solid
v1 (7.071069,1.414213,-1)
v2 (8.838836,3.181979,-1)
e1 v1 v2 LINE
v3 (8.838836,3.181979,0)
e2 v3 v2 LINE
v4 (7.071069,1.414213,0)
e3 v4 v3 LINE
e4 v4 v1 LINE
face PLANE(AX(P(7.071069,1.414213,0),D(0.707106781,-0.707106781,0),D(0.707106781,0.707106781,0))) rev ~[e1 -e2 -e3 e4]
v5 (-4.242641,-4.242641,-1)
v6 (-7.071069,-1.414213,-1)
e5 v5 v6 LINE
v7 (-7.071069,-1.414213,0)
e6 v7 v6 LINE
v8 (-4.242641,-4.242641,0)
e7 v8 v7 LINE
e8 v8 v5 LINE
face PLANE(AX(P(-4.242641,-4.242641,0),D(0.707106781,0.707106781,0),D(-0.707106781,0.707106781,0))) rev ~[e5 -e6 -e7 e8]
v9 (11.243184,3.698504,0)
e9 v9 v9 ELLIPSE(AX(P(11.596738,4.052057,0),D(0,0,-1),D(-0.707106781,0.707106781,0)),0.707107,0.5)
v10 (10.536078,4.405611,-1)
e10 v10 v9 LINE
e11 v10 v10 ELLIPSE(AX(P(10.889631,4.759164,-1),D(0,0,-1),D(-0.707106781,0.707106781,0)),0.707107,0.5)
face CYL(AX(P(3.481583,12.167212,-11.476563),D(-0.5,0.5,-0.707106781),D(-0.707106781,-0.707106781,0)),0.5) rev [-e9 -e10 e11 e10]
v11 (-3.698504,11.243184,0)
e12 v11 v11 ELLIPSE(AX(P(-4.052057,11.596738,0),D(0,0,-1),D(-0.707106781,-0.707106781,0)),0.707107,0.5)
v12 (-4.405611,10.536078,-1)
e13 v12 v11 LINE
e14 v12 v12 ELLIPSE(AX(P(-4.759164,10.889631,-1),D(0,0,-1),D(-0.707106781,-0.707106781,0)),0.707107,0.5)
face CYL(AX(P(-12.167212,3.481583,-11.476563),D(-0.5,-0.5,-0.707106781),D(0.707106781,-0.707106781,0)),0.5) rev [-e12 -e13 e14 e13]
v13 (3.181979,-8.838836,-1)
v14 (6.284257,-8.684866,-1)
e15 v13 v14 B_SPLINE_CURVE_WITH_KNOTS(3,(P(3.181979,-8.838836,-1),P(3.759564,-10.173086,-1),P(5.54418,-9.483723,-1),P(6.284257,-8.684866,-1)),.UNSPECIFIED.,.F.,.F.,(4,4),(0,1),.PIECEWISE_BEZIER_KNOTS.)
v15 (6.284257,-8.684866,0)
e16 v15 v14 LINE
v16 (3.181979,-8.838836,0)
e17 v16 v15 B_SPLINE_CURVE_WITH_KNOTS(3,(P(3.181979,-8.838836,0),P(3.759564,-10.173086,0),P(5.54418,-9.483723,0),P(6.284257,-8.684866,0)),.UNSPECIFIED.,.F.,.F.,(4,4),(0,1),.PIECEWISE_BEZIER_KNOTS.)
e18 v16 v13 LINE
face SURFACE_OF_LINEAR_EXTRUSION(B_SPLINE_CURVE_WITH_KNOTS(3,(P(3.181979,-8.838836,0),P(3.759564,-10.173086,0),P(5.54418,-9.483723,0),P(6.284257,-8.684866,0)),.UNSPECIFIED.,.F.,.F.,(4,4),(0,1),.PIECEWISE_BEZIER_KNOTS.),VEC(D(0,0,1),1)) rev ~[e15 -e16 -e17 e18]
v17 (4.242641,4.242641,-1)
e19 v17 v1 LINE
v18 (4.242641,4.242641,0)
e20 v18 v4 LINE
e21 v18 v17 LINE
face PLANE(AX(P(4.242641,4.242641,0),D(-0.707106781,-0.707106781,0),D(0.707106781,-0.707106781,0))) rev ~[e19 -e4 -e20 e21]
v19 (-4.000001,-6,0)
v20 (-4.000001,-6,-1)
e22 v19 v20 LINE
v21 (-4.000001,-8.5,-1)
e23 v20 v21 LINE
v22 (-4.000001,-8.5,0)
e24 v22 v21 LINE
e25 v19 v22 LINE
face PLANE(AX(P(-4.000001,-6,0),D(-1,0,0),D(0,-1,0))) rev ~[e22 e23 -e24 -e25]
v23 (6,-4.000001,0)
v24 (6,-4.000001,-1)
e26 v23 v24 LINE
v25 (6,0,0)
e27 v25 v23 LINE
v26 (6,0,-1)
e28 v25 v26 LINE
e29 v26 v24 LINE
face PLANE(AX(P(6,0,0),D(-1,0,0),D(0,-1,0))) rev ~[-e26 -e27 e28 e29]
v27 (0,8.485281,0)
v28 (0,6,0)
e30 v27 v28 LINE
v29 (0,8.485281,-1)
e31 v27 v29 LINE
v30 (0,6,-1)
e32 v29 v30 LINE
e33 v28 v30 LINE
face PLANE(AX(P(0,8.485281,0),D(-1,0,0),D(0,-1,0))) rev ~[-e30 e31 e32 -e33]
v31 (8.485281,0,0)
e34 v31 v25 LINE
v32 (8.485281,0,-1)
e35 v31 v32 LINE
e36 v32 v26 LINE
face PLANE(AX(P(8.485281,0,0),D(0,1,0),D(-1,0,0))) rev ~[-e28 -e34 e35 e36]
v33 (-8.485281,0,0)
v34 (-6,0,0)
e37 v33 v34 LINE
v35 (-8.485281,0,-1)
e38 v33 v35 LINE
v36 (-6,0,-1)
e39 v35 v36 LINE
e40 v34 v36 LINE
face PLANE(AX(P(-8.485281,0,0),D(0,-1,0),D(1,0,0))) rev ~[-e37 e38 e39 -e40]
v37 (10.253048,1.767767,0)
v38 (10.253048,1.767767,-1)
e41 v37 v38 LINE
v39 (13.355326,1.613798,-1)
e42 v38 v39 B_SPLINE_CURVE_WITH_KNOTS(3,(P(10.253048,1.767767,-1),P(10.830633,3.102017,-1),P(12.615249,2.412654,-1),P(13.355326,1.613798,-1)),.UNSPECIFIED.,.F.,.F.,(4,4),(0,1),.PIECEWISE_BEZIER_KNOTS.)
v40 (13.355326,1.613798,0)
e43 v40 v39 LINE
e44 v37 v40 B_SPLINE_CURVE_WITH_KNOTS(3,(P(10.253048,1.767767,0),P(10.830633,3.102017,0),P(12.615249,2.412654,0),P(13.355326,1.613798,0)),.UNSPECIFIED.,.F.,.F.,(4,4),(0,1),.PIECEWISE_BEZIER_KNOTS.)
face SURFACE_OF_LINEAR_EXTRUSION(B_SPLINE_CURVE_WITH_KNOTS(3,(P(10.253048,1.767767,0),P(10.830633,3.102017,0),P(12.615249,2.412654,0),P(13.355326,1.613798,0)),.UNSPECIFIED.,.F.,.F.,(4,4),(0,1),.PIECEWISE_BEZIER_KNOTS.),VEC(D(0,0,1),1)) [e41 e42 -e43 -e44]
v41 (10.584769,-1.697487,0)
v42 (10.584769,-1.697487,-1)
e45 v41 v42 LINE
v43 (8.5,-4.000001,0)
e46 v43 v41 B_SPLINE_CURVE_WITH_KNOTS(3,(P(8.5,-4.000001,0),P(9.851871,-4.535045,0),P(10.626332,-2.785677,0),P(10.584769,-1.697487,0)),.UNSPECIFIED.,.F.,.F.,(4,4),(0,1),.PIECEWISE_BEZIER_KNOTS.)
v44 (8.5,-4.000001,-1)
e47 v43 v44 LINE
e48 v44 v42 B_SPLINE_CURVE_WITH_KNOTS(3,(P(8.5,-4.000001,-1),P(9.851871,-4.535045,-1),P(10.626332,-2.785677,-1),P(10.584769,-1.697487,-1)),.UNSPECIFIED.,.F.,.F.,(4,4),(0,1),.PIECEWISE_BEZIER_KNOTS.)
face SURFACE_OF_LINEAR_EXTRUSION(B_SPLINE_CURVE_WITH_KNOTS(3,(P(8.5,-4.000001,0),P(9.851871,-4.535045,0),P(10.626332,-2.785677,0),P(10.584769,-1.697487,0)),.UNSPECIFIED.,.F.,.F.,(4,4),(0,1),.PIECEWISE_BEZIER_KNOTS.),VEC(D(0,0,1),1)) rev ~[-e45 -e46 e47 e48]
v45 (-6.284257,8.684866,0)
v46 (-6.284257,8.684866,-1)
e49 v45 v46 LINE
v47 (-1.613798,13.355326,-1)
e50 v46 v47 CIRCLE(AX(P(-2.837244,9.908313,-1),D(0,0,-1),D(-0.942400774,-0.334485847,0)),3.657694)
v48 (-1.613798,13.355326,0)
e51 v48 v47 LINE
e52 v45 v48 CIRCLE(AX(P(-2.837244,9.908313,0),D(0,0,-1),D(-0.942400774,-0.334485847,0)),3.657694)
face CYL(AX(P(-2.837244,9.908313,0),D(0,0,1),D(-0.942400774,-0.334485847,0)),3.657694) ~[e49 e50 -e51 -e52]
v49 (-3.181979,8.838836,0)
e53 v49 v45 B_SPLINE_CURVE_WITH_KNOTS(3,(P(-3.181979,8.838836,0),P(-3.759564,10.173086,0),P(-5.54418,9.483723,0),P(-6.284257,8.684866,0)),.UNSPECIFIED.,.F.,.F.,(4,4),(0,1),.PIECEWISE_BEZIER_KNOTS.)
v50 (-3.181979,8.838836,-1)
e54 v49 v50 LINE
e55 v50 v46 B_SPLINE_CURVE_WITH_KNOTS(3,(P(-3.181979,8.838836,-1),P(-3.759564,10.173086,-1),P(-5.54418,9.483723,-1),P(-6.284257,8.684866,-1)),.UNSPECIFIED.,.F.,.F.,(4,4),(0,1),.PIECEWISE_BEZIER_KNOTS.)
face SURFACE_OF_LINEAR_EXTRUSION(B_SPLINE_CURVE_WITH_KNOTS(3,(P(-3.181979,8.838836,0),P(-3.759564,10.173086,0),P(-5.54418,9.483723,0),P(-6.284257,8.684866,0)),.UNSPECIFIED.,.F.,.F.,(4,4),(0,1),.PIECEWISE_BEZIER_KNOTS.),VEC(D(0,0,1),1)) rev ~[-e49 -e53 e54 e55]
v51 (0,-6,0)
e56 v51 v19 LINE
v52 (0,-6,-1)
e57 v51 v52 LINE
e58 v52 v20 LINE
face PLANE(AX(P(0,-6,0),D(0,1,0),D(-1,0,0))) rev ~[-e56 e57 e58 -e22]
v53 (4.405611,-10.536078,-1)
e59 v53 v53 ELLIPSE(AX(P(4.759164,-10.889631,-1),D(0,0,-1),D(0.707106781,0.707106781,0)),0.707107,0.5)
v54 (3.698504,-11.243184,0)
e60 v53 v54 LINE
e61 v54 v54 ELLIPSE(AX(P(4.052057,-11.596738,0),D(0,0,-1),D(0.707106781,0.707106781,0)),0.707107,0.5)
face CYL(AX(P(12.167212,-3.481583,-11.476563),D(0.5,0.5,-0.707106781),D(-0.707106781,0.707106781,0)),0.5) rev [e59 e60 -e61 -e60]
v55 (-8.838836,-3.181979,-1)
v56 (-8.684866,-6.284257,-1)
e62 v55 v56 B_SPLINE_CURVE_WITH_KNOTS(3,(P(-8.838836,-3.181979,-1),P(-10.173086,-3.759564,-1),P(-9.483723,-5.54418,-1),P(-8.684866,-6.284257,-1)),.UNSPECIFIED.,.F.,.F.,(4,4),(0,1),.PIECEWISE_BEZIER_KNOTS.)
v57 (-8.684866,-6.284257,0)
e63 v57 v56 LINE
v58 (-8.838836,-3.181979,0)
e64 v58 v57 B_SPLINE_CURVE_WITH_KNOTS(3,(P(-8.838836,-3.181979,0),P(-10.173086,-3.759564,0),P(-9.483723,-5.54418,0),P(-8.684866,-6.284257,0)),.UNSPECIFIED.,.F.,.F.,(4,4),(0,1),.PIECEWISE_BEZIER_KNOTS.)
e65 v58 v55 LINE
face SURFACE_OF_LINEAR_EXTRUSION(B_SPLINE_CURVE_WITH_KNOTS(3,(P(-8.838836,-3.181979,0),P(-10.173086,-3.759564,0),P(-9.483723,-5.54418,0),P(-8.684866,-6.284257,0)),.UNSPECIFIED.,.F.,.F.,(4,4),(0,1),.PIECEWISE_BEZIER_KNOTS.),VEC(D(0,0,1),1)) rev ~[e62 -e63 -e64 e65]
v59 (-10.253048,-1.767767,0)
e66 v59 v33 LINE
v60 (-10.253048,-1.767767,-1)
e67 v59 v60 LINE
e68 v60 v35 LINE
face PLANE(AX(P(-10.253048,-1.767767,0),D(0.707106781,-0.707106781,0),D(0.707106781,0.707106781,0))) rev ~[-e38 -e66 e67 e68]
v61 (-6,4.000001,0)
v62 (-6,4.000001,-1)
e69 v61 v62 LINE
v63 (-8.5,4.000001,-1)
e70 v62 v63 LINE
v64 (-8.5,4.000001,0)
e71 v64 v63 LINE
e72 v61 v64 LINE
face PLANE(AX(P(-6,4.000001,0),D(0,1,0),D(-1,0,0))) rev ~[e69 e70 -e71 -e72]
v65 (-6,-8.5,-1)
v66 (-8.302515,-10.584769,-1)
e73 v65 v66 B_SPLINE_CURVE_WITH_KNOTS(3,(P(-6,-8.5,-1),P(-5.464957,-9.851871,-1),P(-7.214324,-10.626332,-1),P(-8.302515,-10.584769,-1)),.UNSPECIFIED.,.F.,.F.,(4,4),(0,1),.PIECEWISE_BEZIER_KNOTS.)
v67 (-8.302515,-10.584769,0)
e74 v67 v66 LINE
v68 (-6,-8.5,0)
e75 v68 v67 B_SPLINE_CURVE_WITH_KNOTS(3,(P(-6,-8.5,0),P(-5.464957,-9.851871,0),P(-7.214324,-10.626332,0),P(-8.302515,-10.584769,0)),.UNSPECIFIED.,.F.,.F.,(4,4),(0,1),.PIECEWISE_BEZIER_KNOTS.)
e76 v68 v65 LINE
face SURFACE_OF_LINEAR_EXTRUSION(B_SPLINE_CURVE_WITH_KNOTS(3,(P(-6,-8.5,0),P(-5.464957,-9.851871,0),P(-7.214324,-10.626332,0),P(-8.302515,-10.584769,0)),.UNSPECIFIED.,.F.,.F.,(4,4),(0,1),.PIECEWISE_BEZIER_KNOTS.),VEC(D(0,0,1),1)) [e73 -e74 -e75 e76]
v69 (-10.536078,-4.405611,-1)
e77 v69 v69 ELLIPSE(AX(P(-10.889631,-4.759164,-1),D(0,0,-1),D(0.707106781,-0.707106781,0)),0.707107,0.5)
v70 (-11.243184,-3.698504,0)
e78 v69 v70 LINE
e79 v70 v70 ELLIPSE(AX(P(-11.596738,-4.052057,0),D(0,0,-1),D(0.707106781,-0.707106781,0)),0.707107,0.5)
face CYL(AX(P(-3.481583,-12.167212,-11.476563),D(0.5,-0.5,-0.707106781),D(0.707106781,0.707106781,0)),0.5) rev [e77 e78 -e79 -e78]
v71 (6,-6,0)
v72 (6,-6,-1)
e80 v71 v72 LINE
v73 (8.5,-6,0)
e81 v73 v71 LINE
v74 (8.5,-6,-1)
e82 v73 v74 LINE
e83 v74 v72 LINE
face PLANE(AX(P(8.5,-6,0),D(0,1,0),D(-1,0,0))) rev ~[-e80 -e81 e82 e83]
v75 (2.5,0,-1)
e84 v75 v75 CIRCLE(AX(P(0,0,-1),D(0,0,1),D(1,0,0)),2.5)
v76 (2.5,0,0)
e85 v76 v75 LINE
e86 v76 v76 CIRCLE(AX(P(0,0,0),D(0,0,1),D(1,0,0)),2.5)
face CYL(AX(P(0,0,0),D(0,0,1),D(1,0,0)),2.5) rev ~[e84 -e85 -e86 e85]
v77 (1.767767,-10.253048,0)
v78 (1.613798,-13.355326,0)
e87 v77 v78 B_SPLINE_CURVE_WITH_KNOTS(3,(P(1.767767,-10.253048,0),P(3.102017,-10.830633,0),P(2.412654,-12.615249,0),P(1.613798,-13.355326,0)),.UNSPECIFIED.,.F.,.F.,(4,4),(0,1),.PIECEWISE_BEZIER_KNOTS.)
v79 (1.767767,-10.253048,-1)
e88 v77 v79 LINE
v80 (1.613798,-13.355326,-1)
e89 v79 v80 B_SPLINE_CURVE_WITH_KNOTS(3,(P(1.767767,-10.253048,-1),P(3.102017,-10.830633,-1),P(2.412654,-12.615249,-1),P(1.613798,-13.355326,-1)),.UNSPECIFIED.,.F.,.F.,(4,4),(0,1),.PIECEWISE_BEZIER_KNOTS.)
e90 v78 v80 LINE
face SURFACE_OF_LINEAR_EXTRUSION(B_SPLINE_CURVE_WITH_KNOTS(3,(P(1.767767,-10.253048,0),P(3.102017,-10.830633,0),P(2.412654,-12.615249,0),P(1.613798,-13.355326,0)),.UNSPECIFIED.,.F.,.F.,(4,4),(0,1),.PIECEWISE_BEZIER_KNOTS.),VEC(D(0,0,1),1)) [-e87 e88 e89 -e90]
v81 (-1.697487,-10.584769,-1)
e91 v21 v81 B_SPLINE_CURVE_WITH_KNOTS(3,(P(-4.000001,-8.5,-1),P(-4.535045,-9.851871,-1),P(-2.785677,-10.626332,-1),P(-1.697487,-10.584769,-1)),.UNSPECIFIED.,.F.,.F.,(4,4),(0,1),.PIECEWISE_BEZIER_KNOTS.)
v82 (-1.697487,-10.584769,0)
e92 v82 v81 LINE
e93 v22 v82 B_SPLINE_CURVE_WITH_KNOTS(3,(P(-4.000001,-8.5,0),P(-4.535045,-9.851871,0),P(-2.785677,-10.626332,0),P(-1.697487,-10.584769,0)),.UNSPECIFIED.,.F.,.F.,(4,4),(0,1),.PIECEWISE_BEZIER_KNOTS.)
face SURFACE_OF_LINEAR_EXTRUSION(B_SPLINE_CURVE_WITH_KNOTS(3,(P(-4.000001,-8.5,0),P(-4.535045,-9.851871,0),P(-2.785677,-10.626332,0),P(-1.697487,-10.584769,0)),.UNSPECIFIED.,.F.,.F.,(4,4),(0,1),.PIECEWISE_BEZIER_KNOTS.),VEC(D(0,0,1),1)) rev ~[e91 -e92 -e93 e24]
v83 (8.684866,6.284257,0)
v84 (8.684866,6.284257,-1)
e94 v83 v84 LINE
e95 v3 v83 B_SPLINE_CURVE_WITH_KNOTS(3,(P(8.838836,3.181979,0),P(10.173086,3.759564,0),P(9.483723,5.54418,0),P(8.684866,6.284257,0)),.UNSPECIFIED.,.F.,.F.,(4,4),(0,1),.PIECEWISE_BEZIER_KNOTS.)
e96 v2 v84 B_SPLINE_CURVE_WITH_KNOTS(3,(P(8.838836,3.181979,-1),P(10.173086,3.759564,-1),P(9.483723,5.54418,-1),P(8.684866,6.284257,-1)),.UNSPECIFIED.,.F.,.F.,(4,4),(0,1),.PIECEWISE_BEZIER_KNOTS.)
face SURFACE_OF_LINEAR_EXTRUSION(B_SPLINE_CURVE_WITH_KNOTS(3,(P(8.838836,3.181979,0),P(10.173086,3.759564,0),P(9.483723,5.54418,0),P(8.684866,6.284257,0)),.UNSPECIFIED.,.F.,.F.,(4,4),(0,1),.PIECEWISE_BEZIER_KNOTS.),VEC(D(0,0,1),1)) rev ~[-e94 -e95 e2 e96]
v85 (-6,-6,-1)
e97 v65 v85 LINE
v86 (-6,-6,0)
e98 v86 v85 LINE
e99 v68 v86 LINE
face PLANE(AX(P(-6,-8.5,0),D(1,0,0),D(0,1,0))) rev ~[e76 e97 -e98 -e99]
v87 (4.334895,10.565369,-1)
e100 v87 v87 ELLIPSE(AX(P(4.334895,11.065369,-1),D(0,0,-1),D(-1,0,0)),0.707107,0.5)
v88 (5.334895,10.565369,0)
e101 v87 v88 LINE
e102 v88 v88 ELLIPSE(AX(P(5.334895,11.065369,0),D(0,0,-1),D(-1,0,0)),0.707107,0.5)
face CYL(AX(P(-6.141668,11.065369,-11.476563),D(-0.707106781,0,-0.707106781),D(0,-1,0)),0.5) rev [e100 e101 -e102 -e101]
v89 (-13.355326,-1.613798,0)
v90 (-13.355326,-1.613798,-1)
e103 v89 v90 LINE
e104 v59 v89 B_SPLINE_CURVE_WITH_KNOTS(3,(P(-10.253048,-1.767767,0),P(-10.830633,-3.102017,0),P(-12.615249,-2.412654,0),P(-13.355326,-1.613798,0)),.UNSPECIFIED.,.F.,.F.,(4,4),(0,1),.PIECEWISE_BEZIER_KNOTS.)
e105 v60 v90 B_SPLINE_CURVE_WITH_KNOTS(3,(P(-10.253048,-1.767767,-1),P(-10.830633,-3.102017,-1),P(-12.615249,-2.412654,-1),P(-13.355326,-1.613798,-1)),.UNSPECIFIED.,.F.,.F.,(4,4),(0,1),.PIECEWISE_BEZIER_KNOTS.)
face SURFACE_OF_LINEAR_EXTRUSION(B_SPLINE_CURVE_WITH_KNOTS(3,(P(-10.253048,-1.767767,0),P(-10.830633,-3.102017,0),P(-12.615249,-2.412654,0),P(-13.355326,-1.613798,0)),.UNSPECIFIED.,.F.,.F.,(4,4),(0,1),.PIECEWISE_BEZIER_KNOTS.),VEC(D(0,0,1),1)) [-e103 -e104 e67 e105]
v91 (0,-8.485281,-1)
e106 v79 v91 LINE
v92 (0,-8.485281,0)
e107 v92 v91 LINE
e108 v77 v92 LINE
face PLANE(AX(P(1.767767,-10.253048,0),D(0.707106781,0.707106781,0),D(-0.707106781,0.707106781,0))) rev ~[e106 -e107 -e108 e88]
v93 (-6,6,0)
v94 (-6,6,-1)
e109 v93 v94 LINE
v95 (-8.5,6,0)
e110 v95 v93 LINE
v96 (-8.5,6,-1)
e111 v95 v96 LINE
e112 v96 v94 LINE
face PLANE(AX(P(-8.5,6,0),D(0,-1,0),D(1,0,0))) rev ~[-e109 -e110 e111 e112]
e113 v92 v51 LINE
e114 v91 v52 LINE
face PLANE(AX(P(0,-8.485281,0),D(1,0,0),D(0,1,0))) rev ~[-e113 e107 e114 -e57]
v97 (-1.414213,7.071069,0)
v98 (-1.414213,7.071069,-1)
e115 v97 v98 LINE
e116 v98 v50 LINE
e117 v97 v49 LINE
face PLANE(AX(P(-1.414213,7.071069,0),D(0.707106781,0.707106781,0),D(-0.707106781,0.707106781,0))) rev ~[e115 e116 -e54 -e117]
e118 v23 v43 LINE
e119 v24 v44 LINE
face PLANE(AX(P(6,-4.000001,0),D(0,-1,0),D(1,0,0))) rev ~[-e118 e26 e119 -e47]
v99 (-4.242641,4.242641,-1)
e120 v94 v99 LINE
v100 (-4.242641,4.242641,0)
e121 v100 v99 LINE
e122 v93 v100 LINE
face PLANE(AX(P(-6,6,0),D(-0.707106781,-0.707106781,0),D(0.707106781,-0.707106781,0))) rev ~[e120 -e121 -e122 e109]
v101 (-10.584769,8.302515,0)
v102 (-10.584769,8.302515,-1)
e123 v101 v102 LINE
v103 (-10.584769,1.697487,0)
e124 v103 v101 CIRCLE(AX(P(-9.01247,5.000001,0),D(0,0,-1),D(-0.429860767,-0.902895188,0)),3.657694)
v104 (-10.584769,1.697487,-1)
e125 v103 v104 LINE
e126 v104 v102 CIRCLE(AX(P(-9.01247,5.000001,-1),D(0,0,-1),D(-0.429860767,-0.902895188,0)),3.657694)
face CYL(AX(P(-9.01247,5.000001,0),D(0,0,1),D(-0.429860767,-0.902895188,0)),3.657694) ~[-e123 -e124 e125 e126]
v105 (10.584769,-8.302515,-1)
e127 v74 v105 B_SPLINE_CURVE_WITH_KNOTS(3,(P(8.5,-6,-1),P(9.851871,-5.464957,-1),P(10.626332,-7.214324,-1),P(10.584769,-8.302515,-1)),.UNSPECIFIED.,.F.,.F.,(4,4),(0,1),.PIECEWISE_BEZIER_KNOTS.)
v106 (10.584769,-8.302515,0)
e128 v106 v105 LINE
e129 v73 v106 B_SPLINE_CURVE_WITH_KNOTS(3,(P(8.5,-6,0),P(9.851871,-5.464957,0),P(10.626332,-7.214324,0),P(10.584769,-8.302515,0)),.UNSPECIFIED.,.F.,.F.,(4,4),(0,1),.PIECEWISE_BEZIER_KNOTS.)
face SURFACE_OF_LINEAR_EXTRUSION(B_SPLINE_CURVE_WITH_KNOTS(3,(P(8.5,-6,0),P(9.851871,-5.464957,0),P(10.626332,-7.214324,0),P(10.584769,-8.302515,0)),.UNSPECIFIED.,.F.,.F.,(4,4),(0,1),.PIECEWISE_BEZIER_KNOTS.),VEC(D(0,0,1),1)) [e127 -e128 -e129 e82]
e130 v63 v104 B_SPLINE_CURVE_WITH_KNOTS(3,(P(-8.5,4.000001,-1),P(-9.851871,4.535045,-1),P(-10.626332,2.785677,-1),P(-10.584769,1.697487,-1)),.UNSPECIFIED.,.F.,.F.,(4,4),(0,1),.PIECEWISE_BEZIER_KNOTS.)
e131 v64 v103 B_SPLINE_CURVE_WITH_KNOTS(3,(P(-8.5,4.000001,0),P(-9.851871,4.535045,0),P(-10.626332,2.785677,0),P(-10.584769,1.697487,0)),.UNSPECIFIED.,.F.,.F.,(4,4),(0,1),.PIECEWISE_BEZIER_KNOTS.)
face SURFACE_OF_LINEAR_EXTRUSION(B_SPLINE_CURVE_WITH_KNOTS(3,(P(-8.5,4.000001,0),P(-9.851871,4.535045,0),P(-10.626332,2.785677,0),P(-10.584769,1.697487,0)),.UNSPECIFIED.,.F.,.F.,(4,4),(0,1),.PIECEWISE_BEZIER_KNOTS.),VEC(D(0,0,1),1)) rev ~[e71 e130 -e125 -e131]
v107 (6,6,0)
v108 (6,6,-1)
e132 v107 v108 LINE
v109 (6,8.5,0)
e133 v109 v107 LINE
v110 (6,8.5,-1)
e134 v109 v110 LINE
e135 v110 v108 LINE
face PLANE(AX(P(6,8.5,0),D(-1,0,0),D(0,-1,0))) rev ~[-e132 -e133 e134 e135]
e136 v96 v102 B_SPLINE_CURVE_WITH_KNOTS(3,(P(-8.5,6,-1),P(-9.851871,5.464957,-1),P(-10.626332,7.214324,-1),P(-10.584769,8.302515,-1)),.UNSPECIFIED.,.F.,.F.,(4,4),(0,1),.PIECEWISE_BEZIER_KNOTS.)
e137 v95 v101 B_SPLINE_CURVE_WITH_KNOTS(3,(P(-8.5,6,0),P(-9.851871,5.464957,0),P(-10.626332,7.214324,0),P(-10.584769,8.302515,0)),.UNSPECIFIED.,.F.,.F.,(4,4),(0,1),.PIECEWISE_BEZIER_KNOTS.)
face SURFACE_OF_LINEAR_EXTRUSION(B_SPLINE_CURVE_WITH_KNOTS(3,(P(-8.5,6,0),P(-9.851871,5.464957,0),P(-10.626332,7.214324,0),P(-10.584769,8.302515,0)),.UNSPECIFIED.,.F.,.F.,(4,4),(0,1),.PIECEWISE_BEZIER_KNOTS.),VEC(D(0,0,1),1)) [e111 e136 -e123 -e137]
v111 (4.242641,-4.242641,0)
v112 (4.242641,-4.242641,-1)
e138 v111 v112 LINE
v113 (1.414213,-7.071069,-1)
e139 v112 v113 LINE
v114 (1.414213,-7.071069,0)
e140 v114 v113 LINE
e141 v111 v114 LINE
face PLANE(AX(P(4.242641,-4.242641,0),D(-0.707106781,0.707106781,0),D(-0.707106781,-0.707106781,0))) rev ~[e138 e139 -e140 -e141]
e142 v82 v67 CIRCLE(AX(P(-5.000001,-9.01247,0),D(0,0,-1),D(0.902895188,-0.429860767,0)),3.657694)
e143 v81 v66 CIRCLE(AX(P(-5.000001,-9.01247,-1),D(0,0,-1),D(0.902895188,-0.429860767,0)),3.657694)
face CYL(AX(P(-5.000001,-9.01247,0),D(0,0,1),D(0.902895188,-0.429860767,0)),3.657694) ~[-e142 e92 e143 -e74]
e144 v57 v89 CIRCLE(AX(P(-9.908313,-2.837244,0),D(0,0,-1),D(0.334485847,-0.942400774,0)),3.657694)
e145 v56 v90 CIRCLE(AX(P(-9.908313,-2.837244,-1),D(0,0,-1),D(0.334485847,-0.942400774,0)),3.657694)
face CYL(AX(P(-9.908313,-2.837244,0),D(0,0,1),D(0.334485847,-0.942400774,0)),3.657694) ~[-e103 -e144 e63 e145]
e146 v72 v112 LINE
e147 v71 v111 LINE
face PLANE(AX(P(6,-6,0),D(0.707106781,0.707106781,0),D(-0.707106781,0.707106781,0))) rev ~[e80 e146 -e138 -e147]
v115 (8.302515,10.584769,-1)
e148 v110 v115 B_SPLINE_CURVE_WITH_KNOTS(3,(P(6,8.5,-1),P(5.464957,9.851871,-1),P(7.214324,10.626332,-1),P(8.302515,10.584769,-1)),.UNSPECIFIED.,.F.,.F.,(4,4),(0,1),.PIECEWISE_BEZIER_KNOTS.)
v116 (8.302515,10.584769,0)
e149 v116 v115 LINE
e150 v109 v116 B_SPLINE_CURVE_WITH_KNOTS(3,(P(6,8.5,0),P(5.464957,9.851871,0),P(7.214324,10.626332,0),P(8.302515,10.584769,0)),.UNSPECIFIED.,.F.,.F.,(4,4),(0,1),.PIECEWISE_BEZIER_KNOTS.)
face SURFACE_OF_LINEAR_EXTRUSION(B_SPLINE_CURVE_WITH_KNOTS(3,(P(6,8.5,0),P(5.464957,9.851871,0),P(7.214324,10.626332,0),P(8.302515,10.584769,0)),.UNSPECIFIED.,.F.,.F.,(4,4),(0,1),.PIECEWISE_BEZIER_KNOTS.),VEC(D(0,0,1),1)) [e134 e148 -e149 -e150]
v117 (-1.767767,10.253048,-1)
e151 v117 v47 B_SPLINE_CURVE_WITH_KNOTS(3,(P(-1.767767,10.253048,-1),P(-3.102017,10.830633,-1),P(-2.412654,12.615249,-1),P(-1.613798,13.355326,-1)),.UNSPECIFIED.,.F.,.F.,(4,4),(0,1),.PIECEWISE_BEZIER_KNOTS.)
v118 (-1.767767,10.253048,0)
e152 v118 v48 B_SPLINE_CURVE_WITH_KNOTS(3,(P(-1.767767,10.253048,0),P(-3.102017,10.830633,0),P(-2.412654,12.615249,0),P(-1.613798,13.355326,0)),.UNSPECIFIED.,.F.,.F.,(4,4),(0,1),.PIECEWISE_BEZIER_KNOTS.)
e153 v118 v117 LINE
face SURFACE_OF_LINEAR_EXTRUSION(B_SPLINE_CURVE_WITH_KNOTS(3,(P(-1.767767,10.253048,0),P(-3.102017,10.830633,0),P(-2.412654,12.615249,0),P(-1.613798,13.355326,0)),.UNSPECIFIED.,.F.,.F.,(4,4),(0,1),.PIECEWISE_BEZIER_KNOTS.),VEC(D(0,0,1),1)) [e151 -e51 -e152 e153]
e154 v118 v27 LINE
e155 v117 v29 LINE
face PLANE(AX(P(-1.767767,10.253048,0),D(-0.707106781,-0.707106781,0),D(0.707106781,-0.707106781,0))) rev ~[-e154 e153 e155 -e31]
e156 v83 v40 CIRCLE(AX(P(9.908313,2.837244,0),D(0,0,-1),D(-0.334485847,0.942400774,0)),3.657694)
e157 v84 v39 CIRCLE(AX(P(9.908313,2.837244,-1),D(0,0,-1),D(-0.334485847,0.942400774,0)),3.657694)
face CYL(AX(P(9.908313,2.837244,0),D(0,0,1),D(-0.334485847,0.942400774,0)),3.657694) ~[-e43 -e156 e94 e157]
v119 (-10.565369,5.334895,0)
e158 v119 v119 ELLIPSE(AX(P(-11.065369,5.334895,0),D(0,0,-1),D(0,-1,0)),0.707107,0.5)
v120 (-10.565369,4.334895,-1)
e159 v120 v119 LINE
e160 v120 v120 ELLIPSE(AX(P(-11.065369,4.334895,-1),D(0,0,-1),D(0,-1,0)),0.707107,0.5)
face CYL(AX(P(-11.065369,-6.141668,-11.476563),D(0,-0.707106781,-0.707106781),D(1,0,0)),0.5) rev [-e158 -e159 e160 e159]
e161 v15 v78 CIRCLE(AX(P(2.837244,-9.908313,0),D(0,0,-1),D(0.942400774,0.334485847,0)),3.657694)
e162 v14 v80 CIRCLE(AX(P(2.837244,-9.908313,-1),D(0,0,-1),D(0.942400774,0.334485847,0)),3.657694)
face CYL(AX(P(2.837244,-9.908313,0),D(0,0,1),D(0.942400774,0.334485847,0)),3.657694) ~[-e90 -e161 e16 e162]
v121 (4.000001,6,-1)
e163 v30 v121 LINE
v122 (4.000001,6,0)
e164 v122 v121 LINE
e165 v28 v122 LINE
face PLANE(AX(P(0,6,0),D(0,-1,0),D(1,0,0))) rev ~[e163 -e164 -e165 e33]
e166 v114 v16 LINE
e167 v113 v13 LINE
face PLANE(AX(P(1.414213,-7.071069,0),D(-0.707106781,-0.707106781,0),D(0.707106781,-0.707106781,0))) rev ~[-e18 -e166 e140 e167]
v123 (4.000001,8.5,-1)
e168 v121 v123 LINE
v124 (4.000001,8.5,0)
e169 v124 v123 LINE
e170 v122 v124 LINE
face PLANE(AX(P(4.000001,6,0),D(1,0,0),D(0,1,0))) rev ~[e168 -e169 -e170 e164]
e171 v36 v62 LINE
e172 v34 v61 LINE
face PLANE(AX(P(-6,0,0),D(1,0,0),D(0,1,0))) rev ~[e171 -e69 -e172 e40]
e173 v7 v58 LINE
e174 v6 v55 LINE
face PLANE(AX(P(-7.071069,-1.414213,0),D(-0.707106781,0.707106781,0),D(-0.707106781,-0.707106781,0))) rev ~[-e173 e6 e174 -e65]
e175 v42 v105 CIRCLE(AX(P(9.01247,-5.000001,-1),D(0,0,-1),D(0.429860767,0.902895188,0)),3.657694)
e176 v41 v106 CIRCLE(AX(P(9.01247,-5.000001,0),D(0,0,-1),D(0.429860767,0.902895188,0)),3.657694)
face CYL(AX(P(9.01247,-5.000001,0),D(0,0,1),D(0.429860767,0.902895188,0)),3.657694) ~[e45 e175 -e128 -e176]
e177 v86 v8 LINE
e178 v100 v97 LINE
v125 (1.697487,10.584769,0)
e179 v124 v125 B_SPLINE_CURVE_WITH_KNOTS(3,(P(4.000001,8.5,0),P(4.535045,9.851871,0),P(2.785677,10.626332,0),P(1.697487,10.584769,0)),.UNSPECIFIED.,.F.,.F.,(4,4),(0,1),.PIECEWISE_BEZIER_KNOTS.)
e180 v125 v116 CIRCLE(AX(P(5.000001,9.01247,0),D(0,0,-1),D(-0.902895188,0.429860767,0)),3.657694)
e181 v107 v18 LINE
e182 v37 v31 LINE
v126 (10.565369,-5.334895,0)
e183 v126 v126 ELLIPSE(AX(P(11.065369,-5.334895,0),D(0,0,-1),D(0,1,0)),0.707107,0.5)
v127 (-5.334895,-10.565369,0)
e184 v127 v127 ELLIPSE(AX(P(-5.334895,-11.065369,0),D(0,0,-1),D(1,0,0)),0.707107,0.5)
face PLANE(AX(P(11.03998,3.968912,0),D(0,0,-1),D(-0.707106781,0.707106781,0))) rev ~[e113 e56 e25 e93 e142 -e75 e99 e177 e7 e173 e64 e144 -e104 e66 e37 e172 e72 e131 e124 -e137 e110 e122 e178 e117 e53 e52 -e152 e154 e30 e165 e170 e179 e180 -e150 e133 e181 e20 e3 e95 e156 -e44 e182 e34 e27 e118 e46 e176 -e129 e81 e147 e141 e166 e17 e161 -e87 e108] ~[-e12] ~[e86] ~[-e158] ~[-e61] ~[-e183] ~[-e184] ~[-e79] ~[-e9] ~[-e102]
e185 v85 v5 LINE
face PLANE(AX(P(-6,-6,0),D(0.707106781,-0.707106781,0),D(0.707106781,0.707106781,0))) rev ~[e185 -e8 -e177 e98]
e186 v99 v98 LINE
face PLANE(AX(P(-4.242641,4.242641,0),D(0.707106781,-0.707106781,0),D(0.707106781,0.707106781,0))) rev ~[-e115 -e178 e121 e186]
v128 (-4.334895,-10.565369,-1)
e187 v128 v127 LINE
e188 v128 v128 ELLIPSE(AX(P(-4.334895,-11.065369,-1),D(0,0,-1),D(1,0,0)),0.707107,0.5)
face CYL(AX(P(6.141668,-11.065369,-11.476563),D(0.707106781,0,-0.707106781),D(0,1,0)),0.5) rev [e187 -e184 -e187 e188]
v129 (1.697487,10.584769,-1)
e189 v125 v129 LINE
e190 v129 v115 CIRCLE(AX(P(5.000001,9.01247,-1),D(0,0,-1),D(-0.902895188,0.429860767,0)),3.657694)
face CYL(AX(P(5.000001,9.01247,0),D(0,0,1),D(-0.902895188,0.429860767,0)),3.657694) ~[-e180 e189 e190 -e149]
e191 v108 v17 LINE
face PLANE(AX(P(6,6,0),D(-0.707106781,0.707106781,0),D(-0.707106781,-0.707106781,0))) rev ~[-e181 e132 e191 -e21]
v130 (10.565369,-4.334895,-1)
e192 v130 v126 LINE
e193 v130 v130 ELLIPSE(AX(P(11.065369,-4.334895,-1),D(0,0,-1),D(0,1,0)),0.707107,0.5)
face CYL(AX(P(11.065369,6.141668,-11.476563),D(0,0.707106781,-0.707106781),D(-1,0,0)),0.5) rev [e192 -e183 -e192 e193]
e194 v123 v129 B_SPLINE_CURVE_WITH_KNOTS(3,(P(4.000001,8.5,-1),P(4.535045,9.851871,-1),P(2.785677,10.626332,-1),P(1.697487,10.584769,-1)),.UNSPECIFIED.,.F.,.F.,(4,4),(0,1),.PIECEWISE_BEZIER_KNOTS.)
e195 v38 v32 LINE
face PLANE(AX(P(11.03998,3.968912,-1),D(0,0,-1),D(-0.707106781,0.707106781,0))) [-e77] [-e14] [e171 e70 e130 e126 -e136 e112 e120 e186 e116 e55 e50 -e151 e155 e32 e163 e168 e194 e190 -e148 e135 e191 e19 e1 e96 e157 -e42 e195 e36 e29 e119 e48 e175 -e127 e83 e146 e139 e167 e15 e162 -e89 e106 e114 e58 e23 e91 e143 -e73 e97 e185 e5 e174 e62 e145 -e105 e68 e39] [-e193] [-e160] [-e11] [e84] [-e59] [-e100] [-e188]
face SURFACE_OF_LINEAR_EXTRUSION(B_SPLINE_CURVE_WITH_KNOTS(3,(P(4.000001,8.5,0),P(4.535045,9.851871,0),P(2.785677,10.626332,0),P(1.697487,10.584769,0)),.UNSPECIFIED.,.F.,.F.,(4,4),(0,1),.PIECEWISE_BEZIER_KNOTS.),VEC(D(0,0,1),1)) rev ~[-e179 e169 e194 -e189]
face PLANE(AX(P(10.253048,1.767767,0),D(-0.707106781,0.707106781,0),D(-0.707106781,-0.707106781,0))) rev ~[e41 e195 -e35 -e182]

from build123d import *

# Parameters (mm, degrees)
SKETCH1_R           = 2.5
BOSS_EXTRUDE1_DEPTH = 1
BOSS_EXTRUDE2_DEPTH = 1
CUT_EXTRUDE1_START  = -1
SKETCH5_R           = 0.5
CUT_EXTRUDE1_DEPTH  = 20.707970143
CIRPATTERN4_COUNT   = 8


with BuildPart() as part:
    # Sketch1 → Boss-Extrude1 (new body)
    with BuildSketch(Plane.XY):
        Polygon((-6, 0), (-6, 4.000001453), (-8.5, 4.000001453), (-8.5, 6), (-6, 6), (-4.242640687, 4.242640687), (-1.414212535, 7.071068839), (-3.181979488, 8.838835792), (-1.767766953, 10.253048327), (0, 8.485281374), (0, 6), (4.000001453, 6), (4.000001453, 8.5), (6, 8.5), (6, 6), (4.242640687, 4.242640687), (7.071068839, 1.414212535), (8.838835792, 3.181979488), (10.253048327, 1.767766953), (8.485281374, 0), (6, 0), (6, -4.000001453), (8.5, -4.000001453), (8.5, -6), (6, -6), (4.242640687, -4.242640687), (1.414212535, -7.071068839), (3.181979488, -8.838835792), (1.767766953, -10.253048327), (0, -8.485281374), (0, -6), (-4.000001453, -6), (-4.000001453, -8.5), (-6, -8.5), (-6, -6), (-4.242640687, -4.242640687), (-7.071068839, -1.414212535), (-8.838835792, -3.181979488), (-10.253048327, -1.767766953), (-8.485281374, 0), align=None)
        Circle(SKETCH1_R, mode=Mode.SUBTRACT)
    extrude(amount=-BOSS_EXTRUDE1_DEPTH)

    # Sketch2 → Boss-Extrude2 (add)
    with BuildSketch(Plane.XY):
        with BuildLine():
            Line((6, 8.5), (4.000001453, 8.5))
            add(Edge.make_bspline(
                [(4.000001453, 8.5), (4.535044761, 9.851871254), (2.785677296, 10.626331859), (1.69748686, 10.584769031)],
                knots=[0, 0, 0, 0, 1, 1, 1, 1], degree=3))
            ThreePointArc((1.69748686, 10.584769031), (5.000000726, 12.6701636), (8.302514593, 10.584769031))
            add(Edge.make_bspline(
                [(6, 8.5), (5.464956692, 9.851871254), (7.214324157, 10.626331859), (8.302514593, 10.584769031)],
                knots=[0, 0, 0, 0, 1, 1, 1, 1], degree=3))
        make_face()
    boss_extrude2 = extrude(amount=-BOSS_EXTRUDE2_DEPTH)

    # Sketch5 → Cut-Extrude1 (cut)
    with BuildSketch(Plane(origin=(-8.102008287, 0, -8.102008287), x_dir=(0, -1, 0), z_dir=(0.707106781, 0, 0.707106781)).offset(CUT_EXTRUDE1_START)):
        with Locations((-11.065369039, 3.772340366)):
            Circle(SKETCH5_R)
    cut_extrude1 = extrude(amount=CUT_EXTRUDE1_DEPTH, mode=Mode.SUBTRACT)

    # CirPattern4: Boss-Extrude2, Cut-Extrude1 ×8 about axis
    cirpattern4_axis = Axis((0, 0, 0), (0, 0, 1))
    for i in range(1, CIRPATTERN4_COUNT):
        add(boss_extrude2.rotate(cirpattern4_axis, i * 360 / CIRPATTERN4_COUNT))
        add(cut_extrude1.rotate(cirpattern4_axis, i * 360 / CIRPATTERN4_COUNT), mode=Mode.SUBTRACT)


solid = part.part
